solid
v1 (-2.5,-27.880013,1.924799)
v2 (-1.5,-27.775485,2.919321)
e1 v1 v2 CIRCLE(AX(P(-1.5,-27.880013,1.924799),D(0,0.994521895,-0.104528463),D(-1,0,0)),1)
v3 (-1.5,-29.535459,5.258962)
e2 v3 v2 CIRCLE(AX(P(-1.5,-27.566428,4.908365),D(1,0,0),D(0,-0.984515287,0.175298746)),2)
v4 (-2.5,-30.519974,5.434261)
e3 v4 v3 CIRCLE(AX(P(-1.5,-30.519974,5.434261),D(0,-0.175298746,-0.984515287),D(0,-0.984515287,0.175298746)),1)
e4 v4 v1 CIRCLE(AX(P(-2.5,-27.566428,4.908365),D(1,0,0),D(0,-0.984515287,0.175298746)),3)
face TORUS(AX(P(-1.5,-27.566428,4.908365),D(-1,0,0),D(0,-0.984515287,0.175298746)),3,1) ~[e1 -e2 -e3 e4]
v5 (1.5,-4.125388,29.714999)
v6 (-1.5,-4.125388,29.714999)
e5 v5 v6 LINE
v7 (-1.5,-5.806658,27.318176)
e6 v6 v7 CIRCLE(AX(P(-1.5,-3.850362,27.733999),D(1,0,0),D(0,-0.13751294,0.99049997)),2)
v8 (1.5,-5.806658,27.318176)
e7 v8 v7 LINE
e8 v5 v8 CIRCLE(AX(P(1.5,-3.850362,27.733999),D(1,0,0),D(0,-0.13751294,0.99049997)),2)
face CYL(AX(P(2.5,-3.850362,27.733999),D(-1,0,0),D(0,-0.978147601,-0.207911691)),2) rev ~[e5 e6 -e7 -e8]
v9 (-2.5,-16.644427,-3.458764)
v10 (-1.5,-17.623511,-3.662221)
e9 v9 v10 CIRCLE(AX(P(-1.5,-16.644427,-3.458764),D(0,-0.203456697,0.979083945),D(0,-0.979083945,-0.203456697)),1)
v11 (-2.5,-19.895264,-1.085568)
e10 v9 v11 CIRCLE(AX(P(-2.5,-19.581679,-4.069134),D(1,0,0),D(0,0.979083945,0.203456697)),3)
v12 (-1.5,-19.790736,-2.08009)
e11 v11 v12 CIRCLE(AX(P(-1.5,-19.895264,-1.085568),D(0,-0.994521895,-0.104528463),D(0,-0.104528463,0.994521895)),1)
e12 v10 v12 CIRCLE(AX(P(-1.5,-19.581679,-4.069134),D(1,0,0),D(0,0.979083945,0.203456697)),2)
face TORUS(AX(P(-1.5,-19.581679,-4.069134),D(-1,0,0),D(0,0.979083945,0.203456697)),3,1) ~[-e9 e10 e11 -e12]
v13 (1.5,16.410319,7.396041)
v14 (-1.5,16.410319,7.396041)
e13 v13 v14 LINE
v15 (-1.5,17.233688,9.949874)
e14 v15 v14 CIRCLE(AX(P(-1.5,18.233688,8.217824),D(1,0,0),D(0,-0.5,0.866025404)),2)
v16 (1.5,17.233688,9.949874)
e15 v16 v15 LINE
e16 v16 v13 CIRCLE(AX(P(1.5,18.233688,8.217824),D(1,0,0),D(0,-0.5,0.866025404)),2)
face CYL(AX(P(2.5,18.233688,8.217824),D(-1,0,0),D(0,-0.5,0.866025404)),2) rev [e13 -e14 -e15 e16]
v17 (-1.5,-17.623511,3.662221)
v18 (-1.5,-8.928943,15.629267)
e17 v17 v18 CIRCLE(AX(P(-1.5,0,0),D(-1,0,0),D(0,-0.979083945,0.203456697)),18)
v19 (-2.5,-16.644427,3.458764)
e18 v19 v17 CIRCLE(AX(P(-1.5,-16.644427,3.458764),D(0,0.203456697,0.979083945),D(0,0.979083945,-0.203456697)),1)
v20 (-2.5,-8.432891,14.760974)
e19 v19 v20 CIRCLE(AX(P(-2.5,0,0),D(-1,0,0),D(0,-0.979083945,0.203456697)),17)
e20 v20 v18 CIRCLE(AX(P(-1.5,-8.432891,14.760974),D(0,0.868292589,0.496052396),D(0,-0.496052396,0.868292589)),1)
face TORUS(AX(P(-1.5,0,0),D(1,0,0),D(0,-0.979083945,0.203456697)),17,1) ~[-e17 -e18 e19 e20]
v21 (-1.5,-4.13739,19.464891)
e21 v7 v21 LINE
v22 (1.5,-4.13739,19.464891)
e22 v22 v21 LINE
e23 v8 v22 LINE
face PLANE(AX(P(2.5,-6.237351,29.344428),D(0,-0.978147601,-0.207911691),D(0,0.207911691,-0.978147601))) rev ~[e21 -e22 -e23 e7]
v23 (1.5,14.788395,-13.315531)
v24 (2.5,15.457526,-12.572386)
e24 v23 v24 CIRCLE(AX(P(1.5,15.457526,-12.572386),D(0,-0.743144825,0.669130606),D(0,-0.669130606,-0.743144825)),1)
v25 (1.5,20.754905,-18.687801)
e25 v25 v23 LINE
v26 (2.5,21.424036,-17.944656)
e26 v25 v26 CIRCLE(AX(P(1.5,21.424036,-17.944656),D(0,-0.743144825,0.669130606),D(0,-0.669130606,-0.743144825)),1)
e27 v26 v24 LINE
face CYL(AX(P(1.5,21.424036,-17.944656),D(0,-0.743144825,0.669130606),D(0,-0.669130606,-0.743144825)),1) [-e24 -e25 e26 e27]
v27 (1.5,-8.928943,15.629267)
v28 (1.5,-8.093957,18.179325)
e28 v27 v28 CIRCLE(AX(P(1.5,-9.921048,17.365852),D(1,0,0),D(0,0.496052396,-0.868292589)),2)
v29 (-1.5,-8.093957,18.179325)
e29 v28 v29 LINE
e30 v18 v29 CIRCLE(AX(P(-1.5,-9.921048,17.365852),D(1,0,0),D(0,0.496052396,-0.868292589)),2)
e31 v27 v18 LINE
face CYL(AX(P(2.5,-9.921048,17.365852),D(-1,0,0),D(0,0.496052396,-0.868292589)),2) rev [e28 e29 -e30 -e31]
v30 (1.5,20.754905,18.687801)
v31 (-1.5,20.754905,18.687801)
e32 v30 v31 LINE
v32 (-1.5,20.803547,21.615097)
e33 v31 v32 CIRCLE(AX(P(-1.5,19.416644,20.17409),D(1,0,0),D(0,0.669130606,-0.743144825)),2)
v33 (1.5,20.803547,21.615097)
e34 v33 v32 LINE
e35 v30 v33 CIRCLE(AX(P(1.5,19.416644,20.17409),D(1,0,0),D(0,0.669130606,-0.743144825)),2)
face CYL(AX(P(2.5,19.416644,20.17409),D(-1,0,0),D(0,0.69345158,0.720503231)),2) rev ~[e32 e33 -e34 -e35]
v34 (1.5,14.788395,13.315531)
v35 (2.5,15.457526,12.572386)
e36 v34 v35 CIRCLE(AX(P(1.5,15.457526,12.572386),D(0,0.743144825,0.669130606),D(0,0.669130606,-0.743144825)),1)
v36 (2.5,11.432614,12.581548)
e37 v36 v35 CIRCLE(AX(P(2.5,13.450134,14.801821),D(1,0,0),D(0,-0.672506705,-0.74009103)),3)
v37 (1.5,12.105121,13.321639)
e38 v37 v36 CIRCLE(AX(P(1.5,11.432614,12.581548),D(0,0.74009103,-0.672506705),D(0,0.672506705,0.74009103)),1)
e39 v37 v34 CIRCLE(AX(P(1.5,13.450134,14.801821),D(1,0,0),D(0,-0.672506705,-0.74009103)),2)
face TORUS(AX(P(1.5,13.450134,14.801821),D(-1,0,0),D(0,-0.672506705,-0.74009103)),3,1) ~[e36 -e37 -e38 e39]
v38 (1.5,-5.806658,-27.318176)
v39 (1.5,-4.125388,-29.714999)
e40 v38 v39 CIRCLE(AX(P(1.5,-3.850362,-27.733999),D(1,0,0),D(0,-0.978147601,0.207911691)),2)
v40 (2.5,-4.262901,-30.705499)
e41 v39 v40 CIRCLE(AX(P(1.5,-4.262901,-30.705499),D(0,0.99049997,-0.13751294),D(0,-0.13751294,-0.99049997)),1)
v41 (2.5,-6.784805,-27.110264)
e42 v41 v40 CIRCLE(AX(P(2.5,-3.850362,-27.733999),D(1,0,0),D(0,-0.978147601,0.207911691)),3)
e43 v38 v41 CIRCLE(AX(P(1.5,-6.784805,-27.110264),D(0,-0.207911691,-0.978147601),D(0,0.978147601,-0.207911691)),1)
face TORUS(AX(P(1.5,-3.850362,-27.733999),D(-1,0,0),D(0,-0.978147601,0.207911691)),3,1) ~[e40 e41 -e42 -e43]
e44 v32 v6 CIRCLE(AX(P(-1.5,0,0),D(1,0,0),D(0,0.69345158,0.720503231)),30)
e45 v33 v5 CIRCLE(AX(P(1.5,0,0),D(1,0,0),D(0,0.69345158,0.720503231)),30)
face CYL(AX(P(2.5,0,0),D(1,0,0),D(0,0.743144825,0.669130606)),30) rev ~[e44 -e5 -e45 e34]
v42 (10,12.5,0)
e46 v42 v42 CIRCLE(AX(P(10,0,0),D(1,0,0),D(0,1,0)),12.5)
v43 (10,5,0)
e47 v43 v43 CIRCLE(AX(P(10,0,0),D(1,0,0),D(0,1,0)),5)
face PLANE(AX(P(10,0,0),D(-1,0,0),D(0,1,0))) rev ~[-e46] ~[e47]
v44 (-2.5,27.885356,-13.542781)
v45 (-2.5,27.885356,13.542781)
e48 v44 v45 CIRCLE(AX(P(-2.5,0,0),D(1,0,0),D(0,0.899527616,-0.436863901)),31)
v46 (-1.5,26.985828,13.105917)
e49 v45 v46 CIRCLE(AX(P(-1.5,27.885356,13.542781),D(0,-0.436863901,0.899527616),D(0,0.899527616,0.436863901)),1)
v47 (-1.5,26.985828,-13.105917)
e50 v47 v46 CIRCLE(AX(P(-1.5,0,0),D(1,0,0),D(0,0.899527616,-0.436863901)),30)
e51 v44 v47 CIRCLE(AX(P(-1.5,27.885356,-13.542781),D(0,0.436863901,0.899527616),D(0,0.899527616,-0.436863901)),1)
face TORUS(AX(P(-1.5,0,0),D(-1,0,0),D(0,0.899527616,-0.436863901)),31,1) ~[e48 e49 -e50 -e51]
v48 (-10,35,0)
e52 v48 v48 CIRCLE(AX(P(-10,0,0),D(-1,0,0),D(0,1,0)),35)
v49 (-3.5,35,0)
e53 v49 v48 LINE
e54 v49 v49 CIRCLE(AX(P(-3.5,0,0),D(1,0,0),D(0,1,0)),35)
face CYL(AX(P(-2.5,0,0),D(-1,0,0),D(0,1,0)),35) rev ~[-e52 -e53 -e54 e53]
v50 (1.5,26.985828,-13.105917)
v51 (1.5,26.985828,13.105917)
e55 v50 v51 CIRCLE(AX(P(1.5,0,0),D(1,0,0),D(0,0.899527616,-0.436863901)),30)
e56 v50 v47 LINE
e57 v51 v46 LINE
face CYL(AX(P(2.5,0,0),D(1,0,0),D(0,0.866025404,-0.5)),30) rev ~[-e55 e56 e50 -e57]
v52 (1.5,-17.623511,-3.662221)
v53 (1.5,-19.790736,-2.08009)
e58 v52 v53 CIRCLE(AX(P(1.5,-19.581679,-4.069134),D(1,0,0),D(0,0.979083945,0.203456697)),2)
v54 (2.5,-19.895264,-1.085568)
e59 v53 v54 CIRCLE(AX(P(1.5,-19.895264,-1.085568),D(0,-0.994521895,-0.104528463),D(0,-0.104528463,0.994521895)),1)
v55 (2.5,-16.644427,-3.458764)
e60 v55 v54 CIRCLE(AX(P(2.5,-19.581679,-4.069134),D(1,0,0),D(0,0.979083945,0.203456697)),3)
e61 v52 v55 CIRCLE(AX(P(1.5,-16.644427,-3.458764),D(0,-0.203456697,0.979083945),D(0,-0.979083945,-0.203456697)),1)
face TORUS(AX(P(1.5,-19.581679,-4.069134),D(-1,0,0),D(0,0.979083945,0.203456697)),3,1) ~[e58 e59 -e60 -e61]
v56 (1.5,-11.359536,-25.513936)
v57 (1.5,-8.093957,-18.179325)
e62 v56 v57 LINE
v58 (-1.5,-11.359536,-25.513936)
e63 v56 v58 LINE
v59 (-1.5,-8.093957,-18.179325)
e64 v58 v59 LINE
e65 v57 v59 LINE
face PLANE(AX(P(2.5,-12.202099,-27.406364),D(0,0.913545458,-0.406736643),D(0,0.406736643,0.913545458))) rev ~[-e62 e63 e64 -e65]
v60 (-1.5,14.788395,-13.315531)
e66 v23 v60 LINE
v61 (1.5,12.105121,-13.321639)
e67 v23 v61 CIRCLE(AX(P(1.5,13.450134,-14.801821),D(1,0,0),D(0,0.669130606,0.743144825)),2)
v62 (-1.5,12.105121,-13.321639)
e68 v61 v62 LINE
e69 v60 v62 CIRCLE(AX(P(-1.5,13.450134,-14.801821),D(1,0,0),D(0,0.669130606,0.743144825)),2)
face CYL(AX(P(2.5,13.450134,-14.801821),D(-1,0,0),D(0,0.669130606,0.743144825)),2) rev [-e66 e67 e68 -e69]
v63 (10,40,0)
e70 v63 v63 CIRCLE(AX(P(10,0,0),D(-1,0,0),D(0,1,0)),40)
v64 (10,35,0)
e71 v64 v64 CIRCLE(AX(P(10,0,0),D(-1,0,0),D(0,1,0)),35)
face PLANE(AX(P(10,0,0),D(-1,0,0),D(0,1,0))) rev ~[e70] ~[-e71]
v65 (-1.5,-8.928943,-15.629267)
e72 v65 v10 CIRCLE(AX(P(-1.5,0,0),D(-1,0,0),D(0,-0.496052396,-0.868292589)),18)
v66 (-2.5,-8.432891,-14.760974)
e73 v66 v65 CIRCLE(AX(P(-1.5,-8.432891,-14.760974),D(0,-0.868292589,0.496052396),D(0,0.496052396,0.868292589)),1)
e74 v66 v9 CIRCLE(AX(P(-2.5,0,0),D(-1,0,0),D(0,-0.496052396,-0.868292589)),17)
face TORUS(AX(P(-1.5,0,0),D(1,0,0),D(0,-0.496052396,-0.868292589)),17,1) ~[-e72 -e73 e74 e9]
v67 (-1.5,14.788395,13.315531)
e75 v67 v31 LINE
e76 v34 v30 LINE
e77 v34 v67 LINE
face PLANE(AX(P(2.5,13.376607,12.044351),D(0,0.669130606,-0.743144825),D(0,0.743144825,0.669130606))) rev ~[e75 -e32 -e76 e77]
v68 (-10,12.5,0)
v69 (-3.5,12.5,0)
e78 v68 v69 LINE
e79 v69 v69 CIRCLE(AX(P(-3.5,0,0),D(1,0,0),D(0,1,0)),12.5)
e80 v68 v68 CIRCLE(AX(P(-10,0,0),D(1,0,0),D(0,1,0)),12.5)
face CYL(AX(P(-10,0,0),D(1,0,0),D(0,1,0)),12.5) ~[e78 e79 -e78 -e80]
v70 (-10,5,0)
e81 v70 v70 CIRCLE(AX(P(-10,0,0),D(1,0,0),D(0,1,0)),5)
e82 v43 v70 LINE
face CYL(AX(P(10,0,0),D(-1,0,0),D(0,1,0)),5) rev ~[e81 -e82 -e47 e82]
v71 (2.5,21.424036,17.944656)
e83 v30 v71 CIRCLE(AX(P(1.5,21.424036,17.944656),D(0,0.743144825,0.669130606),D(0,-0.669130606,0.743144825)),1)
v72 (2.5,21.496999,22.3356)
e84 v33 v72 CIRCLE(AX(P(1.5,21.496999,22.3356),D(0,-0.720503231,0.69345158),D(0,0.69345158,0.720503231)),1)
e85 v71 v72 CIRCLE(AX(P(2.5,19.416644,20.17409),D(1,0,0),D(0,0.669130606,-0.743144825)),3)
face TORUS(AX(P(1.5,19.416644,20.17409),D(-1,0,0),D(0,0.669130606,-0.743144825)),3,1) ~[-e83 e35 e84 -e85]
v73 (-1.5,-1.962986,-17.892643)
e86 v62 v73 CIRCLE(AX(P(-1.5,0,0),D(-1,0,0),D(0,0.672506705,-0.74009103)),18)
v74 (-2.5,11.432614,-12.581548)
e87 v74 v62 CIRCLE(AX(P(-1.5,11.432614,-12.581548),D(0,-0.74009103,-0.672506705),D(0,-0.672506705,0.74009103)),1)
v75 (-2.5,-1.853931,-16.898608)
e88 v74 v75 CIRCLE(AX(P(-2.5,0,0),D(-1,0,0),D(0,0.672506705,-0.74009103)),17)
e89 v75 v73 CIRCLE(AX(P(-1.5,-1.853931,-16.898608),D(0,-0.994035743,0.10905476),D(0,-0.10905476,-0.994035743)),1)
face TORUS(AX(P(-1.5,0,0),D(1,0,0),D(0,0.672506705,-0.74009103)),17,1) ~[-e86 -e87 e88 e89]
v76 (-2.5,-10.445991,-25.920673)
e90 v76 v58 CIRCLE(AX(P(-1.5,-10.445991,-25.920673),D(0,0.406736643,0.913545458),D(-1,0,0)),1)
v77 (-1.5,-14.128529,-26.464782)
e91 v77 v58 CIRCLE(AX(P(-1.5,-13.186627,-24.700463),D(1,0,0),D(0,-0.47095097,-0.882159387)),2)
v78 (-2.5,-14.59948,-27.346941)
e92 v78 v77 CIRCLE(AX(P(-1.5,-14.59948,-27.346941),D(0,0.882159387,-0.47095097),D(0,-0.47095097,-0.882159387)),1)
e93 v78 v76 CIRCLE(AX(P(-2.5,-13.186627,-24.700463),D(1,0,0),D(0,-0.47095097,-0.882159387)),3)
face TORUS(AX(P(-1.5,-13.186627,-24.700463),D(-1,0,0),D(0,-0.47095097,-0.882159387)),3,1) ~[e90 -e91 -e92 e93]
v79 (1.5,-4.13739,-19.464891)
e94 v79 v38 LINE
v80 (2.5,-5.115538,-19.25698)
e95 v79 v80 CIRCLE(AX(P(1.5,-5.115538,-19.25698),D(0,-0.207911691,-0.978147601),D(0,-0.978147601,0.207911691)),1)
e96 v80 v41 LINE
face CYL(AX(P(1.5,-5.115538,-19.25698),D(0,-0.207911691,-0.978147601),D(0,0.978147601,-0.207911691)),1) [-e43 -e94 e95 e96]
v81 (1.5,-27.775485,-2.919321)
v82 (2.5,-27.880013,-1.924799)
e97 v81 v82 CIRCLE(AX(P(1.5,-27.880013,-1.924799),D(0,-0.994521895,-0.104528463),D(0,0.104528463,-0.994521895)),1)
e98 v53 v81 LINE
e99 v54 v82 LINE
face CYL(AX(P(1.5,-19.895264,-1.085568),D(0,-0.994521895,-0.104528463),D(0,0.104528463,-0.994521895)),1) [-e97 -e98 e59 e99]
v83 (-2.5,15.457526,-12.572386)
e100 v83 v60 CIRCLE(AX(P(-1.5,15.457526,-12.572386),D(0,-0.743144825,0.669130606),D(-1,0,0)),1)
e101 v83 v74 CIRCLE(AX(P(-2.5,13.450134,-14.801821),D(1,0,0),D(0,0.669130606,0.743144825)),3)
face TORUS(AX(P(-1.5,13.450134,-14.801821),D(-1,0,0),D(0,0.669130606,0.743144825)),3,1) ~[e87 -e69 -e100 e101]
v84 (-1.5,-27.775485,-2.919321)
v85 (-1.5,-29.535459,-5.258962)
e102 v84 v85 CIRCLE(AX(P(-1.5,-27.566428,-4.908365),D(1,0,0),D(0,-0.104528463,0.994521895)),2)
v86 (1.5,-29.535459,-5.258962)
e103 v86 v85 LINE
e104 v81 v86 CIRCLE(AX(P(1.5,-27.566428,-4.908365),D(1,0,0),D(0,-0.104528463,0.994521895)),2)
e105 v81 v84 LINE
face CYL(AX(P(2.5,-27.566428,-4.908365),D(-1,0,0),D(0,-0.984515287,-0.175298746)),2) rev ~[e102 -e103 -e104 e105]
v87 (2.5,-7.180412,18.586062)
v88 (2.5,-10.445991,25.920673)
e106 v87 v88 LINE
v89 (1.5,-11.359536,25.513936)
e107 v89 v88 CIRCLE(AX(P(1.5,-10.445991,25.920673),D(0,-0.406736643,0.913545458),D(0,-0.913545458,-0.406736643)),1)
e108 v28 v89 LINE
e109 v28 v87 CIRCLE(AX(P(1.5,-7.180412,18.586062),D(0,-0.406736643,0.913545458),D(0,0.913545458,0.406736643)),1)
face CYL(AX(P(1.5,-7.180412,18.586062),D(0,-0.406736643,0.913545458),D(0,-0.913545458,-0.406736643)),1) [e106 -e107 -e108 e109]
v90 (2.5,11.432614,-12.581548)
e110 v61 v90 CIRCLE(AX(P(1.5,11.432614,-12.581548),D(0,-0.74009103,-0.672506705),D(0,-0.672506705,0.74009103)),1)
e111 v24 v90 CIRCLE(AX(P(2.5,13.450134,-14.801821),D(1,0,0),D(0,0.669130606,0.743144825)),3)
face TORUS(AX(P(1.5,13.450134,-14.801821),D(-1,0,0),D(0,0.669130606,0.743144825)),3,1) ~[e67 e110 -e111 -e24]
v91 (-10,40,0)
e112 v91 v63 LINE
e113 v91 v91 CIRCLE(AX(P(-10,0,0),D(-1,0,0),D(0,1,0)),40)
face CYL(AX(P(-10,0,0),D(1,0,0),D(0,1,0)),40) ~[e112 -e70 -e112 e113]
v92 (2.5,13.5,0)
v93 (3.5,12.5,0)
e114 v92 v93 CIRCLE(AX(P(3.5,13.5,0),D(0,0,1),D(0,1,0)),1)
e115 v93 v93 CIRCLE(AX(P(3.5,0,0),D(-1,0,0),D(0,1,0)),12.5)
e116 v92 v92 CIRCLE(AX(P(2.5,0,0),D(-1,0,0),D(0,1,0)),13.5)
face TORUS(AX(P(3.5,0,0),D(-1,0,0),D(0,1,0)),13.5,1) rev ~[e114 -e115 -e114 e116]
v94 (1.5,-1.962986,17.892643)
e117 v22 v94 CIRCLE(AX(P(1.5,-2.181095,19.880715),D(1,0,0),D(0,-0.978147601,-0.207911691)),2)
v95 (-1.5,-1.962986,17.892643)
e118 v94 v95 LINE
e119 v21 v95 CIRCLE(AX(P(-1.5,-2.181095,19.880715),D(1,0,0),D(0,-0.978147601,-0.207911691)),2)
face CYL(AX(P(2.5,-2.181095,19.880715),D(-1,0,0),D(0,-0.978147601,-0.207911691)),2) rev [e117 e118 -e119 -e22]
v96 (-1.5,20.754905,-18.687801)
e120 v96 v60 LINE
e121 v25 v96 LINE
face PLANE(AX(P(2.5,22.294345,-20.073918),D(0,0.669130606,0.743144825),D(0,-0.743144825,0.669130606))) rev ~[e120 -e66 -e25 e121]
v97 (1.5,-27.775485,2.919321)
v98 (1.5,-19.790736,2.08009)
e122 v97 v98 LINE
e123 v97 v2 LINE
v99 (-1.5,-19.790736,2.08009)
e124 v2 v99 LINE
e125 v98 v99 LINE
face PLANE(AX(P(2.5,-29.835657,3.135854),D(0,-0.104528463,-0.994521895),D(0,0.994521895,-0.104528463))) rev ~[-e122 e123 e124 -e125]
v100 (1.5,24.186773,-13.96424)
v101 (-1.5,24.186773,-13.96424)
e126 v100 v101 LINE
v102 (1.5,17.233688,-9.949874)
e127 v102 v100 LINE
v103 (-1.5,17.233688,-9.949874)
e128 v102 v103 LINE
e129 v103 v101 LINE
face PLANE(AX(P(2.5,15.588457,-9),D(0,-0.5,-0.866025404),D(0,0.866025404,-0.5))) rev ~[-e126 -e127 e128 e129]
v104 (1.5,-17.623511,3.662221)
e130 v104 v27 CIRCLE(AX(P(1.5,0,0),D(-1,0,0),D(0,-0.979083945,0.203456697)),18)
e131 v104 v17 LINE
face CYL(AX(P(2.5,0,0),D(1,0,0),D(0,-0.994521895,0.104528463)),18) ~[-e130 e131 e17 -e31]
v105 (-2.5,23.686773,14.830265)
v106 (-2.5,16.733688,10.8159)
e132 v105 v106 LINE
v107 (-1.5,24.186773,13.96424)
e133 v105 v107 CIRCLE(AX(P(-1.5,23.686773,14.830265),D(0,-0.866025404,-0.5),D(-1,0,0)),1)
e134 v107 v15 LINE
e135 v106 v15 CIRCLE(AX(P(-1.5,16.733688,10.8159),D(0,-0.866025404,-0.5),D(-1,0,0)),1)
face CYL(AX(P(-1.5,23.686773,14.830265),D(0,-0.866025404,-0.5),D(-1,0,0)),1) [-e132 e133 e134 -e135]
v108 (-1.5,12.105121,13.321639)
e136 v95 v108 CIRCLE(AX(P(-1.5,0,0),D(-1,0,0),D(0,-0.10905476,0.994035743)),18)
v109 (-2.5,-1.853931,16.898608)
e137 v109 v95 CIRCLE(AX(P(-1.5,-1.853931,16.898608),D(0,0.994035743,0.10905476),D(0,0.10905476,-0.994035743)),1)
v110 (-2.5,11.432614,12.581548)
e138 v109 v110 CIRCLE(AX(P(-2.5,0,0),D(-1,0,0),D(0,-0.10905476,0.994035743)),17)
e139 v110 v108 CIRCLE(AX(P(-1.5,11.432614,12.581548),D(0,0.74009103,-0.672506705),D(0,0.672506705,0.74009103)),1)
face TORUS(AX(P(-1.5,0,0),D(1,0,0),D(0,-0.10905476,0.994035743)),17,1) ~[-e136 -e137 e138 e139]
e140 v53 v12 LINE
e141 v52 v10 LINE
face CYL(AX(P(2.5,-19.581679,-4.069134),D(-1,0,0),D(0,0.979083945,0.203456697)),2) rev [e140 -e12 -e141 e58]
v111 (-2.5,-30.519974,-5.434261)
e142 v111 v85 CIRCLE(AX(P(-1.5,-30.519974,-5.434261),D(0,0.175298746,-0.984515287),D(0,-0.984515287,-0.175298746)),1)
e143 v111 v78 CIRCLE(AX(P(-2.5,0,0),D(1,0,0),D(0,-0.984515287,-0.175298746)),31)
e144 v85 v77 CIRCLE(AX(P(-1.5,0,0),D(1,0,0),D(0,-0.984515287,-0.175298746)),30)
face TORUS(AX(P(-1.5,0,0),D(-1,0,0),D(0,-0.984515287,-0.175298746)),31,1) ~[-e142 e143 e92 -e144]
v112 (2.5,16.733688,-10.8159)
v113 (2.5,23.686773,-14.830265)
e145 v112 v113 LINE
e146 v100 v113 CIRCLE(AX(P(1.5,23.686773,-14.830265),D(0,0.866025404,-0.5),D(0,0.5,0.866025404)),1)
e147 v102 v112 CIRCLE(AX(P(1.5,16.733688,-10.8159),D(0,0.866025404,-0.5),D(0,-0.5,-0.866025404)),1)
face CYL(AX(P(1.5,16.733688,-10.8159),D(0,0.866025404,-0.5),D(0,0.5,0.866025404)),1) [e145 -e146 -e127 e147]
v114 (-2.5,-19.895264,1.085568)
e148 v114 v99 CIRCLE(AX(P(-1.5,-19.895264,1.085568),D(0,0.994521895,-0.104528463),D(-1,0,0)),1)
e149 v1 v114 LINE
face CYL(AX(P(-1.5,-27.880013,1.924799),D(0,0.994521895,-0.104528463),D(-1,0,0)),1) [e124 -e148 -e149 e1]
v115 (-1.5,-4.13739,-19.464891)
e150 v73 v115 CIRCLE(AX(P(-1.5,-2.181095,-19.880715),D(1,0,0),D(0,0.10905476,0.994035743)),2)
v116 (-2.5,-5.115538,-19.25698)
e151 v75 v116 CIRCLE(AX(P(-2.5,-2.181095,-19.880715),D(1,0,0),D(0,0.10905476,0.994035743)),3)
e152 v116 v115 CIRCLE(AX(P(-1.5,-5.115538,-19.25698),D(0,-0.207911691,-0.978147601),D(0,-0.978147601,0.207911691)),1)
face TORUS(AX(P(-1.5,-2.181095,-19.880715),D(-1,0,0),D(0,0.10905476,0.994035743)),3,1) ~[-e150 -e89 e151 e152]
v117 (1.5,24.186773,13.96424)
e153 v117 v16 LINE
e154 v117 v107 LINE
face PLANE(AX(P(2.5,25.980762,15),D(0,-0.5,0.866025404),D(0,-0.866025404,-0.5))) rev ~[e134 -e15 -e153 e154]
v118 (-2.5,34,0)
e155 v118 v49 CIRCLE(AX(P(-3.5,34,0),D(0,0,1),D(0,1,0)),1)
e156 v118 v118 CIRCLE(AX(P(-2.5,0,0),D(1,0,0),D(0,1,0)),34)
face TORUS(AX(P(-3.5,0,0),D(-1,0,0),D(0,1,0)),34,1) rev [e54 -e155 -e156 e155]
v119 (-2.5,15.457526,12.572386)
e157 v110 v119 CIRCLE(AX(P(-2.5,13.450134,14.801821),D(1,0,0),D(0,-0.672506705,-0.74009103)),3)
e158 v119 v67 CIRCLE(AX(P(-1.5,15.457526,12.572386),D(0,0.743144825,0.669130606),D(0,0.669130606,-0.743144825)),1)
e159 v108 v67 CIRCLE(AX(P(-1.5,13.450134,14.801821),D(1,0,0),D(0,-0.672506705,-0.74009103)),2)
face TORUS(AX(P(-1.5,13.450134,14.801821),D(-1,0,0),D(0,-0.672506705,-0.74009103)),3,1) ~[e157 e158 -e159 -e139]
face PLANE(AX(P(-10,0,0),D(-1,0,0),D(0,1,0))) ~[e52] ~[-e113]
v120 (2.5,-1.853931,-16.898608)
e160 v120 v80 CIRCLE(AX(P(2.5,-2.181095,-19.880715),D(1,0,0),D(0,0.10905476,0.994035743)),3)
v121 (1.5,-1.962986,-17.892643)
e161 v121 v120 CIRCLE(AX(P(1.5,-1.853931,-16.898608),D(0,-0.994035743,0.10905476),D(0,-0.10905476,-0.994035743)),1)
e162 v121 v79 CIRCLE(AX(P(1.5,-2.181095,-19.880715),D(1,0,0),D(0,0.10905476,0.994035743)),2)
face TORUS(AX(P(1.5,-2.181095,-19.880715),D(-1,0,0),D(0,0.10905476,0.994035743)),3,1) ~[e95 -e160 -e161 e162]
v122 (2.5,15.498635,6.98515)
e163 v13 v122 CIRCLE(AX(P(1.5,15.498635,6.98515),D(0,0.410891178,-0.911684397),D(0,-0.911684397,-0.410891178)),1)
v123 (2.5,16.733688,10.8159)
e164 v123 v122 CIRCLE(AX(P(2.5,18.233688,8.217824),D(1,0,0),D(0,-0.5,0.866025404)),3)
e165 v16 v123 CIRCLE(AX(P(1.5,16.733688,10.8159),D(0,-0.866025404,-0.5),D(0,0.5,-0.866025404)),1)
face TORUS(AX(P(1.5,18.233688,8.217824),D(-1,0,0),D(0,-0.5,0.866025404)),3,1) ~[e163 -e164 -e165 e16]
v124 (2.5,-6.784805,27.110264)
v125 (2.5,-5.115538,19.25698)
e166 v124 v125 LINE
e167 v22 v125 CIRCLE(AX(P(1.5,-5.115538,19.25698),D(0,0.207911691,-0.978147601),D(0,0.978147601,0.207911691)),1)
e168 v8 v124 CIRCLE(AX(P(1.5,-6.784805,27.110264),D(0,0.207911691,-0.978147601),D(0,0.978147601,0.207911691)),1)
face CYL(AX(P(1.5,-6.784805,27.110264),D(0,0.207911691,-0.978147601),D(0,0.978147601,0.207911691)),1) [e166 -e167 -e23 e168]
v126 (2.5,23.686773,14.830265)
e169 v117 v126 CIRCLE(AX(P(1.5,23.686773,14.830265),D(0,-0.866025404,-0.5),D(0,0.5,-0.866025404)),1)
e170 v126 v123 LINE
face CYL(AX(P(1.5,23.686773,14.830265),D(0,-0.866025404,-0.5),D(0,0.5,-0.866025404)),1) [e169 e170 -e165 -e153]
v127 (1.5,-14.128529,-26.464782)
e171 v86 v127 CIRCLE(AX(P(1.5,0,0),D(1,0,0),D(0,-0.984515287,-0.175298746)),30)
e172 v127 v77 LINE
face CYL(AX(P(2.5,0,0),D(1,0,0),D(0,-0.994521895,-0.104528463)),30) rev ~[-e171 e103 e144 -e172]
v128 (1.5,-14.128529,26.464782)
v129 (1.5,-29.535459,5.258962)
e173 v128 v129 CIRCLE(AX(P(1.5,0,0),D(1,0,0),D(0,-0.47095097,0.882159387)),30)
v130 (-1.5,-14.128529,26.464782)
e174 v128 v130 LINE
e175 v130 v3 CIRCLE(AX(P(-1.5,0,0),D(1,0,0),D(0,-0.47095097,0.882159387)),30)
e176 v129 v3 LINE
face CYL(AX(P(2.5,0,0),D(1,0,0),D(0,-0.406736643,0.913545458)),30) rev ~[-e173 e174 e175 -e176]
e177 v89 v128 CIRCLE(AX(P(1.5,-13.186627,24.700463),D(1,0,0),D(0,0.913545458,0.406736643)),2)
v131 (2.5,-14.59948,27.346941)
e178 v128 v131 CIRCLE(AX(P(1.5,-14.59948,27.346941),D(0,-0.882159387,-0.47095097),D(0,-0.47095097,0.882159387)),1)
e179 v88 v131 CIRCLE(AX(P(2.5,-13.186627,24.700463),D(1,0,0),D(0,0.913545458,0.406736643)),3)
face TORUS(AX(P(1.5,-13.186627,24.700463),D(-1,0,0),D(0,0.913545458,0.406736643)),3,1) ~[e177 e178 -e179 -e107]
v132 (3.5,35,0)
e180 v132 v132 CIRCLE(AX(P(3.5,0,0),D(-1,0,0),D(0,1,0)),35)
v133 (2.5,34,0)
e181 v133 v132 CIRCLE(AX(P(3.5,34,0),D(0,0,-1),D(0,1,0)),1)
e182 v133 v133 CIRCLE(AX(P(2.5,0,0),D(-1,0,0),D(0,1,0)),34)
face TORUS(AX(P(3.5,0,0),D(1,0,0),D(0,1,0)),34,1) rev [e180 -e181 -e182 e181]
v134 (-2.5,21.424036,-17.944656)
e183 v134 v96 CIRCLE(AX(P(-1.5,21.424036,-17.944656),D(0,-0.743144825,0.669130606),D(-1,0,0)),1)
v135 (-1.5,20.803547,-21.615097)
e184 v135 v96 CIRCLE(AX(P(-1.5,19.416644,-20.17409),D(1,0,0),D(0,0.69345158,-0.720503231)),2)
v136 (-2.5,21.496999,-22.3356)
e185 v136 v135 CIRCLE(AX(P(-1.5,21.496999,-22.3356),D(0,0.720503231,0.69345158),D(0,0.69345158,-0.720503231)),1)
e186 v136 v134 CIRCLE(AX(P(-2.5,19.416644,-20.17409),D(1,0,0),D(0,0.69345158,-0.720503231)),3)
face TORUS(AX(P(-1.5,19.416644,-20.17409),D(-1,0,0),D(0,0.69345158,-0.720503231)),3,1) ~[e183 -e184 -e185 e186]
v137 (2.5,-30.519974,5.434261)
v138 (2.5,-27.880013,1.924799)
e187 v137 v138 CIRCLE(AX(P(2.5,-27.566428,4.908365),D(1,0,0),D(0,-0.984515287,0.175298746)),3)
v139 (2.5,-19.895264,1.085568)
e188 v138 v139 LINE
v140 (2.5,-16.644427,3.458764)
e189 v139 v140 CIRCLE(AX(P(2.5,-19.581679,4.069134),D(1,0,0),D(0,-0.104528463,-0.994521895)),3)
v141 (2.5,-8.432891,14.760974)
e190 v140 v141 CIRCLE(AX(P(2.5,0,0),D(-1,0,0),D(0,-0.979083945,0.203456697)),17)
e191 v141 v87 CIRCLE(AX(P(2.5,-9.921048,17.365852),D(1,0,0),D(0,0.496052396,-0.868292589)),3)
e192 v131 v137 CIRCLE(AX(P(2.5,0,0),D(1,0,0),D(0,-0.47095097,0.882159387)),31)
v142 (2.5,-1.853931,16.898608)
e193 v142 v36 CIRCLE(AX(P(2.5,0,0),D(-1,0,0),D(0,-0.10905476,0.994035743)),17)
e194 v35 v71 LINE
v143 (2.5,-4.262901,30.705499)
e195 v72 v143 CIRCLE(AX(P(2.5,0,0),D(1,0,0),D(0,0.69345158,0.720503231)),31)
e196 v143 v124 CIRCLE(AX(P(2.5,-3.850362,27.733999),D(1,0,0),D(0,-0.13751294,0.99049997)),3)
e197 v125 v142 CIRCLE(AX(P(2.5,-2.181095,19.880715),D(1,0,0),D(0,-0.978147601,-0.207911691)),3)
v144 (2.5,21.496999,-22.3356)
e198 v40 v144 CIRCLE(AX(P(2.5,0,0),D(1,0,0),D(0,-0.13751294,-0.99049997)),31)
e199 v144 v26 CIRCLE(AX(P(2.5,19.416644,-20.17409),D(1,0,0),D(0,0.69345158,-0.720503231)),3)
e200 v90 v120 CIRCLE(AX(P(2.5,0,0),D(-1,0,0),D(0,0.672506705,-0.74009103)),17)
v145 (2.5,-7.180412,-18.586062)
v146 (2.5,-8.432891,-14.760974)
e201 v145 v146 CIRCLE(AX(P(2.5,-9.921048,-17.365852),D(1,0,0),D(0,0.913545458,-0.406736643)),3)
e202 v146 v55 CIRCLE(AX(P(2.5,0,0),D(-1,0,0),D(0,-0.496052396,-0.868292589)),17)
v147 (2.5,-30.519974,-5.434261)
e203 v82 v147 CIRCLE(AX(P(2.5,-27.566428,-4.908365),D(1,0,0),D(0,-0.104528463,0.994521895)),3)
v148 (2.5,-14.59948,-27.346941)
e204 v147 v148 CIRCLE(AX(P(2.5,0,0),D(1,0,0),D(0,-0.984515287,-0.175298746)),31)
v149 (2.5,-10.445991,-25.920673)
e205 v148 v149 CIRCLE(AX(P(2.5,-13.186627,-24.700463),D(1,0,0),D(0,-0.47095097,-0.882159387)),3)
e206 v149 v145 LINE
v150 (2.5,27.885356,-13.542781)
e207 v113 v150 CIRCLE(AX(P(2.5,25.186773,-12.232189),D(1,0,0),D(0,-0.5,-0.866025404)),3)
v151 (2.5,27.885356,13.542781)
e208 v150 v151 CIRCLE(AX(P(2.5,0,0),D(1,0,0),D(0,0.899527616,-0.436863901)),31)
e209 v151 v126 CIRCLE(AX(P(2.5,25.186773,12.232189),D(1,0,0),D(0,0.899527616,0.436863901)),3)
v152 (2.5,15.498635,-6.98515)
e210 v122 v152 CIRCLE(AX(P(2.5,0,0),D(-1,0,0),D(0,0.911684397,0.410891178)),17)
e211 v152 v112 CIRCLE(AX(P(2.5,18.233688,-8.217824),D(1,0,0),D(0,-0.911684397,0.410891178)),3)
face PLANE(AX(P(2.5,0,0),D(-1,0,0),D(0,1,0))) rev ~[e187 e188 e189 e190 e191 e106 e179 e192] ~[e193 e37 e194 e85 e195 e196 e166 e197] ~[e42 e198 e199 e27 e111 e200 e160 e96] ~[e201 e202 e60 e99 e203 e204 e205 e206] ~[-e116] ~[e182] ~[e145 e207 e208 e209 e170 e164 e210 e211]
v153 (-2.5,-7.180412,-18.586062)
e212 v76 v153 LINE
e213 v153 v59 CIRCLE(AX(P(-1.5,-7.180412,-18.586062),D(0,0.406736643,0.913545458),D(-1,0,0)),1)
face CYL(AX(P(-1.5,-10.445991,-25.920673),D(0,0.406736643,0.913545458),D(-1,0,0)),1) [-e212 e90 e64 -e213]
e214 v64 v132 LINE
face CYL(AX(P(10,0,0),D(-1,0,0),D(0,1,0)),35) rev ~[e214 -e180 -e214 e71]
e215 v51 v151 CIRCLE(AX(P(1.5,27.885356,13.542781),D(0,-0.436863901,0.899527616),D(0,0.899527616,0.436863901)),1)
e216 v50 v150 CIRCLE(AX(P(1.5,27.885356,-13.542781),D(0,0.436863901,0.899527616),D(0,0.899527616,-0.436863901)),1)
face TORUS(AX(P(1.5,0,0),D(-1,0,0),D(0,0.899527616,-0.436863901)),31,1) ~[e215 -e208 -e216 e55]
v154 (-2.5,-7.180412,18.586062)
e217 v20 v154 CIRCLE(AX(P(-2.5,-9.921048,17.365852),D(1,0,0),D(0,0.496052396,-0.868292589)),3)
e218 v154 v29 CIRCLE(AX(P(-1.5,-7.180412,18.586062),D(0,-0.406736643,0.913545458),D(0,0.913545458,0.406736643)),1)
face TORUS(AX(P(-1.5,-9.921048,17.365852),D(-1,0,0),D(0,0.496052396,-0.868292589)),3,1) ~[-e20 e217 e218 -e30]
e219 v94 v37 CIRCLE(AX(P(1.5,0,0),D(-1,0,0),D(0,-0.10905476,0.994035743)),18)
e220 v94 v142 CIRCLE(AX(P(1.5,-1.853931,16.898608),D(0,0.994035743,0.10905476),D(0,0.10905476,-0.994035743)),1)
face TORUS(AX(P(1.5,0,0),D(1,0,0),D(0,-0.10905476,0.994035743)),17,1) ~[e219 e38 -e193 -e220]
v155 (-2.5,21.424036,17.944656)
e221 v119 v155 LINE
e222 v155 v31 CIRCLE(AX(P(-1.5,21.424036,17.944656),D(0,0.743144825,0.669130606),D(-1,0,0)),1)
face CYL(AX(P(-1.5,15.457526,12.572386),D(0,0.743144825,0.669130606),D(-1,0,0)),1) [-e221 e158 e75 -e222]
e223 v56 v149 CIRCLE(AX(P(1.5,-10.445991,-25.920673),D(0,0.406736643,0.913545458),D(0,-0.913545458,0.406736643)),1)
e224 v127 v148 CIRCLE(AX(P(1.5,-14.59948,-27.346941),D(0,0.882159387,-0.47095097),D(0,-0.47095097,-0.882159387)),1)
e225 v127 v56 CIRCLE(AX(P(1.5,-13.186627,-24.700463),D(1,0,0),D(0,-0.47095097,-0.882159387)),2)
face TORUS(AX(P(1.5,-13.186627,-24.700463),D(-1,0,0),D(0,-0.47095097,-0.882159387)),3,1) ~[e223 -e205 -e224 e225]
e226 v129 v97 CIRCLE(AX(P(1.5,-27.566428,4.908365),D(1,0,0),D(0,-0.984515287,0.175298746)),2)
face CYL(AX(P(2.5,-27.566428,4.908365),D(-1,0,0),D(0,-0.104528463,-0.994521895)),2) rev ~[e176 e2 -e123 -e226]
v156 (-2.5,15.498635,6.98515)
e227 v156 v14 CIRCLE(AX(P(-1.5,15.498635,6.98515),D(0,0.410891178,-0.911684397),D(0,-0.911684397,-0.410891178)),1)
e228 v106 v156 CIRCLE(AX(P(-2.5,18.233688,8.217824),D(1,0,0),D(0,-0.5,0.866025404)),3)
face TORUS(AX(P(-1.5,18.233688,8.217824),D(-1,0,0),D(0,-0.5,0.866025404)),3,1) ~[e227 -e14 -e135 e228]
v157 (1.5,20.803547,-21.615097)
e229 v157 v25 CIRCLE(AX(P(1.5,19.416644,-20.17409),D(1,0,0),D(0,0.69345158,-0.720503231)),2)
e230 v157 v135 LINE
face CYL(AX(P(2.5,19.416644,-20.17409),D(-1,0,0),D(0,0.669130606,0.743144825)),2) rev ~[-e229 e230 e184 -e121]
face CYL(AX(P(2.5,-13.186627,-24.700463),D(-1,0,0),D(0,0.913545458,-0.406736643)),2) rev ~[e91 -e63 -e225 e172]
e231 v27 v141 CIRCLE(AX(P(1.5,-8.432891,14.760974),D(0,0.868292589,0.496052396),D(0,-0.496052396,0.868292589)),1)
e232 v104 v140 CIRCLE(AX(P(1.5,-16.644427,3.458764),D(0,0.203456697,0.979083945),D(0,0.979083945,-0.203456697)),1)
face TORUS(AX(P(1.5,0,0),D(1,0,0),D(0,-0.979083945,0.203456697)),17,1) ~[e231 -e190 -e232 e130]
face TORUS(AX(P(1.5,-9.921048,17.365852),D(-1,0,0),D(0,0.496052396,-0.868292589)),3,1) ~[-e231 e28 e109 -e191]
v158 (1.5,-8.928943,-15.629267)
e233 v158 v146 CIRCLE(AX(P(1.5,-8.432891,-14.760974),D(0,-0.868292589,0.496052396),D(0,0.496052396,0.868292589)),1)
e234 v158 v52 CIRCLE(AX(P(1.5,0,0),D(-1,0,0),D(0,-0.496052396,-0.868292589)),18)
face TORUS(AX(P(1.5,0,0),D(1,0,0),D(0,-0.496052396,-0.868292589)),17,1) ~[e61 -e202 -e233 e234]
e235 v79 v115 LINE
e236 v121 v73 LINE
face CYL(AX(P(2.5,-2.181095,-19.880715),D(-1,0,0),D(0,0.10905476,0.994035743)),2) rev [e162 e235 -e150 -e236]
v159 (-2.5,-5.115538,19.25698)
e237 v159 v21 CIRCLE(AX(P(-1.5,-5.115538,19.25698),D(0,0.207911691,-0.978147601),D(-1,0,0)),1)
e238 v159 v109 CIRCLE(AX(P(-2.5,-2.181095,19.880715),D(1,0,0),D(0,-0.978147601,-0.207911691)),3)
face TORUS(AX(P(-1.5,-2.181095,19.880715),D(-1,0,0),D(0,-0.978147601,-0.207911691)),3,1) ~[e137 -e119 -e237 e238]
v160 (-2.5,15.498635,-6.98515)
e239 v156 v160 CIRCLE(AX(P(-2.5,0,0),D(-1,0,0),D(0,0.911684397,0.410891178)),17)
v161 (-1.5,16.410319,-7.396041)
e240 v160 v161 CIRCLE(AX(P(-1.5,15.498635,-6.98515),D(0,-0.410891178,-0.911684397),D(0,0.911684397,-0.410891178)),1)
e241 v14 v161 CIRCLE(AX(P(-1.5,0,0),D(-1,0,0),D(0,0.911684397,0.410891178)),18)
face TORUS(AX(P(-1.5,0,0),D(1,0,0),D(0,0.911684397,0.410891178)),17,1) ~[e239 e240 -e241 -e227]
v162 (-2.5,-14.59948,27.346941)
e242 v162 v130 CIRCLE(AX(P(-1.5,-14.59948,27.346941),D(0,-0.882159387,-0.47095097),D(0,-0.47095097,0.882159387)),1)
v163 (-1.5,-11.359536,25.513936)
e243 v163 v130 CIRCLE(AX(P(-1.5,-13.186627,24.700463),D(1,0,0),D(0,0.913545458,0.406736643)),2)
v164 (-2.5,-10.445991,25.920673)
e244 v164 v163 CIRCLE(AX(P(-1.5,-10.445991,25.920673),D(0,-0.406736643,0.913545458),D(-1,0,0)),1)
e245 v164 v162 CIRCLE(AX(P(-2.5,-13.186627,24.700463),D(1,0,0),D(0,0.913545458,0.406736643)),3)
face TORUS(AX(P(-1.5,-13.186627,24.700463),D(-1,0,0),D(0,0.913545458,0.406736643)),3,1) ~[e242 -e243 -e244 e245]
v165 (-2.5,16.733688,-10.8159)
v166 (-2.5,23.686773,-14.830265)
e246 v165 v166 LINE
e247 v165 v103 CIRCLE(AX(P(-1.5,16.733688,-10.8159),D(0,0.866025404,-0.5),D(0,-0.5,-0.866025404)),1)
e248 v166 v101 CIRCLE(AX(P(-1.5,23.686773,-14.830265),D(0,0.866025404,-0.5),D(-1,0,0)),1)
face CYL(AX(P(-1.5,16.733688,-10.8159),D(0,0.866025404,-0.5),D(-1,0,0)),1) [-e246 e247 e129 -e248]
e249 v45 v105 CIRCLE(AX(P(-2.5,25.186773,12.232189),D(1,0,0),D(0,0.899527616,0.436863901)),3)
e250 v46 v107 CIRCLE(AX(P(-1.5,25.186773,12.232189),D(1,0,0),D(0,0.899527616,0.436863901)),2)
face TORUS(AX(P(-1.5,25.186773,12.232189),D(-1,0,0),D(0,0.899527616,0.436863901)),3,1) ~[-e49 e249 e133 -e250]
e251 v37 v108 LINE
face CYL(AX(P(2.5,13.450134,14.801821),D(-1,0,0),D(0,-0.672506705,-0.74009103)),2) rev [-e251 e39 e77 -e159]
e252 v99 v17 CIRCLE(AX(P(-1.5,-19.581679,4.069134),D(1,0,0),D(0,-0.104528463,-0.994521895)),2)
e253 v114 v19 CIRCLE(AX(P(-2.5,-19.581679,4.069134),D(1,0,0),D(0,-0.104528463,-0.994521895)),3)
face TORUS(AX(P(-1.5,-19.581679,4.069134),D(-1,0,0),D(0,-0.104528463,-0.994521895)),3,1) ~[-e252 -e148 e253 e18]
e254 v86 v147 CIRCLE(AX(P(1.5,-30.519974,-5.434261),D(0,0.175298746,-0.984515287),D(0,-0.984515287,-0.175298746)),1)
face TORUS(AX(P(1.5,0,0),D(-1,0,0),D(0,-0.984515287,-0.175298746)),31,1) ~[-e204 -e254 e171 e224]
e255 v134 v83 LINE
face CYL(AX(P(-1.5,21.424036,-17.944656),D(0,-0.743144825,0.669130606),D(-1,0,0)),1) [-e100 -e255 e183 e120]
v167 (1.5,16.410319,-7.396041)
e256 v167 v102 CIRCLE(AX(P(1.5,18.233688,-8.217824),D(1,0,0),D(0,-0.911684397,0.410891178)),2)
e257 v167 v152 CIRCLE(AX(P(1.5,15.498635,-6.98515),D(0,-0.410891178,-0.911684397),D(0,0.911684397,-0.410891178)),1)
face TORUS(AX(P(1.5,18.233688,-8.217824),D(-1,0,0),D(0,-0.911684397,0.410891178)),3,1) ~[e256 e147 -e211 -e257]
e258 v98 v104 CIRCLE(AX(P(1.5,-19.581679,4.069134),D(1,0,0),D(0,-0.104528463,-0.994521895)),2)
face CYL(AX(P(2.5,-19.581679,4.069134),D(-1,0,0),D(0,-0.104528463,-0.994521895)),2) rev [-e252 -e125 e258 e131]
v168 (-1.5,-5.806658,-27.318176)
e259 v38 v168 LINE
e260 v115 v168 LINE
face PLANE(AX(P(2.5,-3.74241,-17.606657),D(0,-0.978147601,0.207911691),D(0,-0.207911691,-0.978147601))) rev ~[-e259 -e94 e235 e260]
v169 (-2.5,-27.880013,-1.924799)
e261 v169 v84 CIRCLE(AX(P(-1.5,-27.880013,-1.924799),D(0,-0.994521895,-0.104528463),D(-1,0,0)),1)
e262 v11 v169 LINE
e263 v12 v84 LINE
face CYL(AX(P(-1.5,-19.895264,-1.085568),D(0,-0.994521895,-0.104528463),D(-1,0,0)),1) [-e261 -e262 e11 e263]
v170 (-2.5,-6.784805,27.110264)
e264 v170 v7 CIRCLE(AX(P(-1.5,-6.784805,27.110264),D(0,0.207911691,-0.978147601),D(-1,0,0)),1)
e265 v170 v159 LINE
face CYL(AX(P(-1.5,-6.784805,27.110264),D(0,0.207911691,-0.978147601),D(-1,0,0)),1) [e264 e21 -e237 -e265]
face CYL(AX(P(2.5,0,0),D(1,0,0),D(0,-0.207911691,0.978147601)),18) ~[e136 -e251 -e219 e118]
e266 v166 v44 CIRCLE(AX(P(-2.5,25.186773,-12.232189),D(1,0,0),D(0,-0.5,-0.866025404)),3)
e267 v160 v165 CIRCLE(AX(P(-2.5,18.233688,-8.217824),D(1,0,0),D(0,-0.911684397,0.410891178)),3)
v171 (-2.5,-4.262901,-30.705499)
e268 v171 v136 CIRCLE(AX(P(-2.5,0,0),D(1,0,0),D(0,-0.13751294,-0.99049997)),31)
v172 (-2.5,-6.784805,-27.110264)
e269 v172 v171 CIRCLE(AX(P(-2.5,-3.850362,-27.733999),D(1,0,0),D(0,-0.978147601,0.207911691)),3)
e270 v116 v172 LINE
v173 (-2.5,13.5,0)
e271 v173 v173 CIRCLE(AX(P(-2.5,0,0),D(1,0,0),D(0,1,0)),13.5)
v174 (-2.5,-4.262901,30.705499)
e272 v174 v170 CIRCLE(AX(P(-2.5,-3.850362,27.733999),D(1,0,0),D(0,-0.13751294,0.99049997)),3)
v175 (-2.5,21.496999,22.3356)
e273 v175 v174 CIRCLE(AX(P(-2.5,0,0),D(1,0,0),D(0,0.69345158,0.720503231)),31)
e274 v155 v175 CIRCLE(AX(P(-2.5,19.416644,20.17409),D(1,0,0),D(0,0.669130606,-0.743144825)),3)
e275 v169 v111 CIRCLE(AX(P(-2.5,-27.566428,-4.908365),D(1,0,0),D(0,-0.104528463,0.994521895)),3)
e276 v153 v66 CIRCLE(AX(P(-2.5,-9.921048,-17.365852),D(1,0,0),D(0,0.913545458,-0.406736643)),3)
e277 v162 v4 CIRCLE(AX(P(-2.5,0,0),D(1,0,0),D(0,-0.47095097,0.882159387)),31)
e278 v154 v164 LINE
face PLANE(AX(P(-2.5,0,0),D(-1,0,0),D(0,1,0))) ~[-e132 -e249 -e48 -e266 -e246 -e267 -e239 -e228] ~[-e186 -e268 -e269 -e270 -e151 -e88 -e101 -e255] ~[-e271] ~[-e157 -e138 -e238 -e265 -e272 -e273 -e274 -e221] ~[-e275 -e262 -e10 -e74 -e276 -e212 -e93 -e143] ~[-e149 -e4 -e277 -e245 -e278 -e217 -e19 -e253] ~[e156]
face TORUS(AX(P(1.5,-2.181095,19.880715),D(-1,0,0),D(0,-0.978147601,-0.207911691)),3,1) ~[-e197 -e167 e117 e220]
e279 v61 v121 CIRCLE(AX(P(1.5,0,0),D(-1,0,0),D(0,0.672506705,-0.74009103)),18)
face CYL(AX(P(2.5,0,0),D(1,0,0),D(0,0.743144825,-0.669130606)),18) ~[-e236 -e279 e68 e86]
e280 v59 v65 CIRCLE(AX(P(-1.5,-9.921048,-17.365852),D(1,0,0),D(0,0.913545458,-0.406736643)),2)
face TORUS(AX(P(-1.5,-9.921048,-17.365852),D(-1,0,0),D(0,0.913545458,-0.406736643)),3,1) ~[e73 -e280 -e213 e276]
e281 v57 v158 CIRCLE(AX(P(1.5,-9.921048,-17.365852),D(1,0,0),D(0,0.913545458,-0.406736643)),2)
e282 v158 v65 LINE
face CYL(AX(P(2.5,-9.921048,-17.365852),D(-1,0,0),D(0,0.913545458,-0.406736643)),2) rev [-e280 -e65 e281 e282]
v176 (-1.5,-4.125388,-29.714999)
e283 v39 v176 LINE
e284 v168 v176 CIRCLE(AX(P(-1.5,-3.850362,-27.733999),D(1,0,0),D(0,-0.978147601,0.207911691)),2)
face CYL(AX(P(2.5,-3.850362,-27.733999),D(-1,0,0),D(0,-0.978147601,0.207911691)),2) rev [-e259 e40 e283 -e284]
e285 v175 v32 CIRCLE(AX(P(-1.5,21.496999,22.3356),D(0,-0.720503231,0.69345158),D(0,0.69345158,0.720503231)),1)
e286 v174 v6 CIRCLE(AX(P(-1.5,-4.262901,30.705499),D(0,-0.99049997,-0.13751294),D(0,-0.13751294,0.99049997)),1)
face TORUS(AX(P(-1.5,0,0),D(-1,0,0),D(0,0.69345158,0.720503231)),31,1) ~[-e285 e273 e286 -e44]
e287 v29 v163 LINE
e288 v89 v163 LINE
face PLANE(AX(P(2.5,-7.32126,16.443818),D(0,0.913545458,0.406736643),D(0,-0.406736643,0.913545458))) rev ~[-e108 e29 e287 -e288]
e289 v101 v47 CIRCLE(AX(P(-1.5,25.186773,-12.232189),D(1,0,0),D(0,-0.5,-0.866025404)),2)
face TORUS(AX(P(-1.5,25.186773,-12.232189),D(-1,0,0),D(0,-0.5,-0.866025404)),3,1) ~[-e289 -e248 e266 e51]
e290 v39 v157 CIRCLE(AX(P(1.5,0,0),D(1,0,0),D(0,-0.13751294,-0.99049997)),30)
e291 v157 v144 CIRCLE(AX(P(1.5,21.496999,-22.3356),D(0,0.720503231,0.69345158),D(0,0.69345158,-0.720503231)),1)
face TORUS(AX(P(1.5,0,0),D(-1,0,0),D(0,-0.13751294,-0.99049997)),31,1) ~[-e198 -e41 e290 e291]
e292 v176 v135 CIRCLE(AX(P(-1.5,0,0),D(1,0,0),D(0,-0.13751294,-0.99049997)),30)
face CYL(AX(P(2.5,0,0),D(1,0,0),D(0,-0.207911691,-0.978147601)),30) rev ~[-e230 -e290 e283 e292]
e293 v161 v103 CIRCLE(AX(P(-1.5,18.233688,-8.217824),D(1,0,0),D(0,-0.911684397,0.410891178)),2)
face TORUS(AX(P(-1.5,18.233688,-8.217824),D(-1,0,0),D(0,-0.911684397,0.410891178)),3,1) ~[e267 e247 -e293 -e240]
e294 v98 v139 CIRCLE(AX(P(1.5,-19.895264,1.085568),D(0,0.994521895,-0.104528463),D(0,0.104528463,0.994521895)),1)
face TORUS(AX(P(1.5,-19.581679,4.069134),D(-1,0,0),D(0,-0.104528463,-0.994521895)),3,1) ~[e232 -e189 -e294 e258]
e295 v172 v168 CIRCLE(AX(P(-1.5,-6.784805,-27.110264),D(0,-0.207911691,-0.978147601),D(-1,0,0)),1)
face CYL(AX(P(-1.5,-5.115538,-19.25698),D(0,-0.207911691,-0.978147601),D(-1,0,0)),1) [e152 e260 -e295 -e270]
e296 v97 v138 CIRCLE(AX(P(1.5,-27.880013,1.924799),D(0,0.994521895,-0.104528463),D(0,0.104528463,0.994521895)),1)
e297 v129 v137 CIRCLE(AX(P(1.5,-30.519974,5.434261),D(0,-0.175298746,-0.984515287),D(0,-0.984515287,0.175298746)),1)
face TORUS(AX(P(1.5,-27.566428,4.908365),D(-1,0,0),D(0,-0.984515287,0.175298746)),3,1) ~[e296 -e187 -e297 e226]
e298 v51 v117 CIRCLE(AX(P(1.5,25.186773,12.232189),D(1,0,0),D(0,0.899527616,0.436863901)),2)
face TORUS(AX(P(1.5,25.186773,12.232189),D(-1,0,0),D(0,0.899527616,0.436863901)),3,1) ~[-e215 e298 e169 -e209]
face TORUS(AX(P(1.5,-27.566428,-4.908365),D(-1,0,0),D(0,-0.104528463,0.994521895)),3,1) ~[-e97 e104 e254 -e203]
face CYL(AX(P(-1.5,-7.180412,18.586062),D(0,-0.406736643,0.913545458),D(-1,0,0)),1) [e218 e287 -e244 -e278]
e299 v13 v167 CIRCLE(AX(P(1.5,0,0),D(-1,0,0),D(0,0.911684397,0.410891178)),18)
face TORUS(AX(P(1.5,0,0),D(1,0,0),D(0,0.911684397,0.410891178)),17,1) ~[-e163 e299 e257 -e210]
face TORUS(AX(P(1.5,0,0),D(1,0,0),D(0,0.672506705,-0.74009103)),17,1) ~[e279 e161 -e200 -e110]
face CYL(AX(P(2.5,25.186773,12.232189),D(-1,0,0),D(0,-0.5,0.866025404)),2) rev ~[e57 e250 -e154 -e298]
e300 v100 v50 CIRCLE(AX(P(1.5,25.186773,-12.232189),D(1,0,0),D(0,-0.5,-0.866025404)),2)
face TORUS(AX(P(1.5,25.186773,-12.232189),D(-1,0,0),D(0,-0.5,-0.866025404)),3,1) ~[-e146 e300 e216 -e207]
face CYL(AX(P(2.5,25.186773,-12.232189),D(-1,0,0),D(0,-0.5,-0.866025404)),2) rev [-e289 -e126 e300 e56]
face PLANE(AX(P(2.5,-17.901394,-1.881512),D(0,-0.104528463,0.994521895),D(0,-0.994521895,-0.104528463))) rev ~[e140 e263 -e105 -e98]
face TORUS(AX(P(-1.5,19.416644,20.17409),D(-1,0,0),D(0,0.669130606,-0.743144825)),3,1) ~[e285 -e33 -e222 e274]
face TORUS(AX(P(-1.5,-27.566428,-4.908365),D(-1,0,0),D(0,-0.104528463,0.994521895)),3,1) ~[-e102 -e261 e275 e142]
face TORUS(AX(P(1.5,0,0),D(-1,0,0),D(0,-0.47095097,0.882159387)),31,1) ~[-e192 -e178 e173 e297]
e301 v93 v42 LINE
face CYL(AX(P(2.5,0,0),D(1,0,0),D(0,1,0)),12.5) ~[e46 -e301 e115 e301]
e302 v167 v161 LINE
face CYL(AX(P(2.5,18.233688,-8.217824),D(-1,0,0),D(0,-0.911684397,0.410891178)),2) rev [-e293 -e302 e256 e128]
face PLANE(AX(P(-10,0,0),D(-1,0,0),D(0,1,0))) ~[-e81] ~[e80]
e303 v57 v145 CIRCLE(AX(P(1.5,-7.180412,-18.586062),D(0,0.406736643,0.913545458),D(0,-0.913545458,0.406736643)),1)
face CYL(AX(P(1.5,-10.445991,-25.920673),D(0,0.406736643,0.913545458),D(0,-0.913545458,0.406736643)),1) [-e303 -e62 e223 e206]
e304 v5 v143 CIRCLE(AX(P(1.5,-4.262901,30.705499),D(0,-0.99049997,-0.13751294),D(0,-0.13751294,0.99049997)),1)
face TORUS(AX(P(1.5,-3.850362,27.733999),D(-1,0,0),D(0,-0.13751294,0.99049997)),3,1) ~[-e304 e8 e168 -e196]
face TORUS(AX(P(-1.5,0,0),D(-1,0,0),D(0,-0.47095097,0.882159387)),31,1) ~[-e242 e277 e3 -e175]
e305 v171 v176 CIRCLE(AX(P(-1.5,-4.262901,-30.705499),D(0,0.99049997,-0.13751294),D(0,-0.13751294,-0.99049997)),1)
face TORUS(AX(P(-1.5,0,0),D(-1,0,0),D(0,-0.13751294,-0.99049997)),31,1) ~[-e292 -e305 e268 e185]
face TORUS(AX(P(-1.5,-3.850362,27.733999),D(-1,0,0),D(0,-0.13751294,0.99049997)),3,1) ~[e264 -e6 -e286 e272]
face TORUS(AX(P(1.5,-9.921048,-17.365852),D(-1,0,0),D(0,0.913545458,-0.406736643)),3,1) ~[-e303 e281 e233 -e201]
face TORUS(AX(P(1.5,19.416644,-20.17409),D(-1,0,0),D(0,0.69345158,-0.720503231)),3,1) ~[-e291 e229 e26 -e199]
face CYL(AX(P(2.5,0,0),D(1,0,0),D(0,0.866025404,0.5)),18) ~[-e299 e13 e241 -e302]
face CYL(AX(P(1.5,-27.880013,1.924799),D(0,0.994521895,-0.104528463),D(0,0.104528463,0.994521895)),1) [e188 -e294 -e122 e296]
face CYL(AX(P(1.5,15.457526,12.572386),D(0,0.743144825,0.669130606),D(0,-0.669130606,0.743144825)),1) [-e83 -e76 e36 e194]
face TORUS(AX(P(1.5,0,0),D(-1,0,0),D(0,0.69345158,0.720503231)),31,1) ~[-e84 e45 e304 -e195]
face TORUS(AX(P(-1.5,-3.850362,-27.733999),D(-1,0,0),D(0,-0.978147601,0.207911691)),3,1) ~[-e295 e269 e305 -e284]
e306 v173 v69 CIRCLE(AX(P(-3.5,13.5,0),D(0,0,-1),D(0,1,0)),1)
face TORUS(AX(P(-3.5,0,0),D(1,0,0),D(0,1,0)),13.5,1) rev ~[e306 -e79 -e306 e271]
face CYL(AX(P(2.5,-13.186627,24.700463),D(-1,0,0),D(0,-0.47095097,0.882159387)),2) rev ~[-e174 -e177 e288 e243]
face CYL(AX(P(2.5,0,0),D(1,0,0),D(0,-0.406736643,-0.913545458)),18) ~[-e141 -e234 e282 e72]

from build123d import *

# Parameters (mm, degrees)
REVOLVE1_ANGLE           = 360
CUT_EXTRUDE1_DEPTH       = 10
FILLET1_R                = 2
CIRPATTERN1_COUNT        = 5
FILLET1_OF_CIRPATTERN1_R = 2
FILLET2_R                = 1


with BuildPart() as part:
    # Sketch1 → Revolve1 (revolve, symmetric)
    with BuildSketch(Plane.XY) as revolve1_sk:
        Polygon((-2.5, 35), (-10, 35), (-10, 40), (10, 40), (10, 35), (2.5, 35), (2.5, 12.5), (10, 12.5), (10, 5), (-10, 5), (-10, 12.5), (-2.5, 12.5), align=None)
    revolve(axis=Axis((0, 0, 0), (1, 0, 0)), revolution_arc=REVOLVE1_ANGLE / 2)
    revolve(revolve1_sk.sketch, axis=Axis((0, 0, 0), (-1, 0, 0)), revolution_arc=REVOLVE1_ANGLE / 2)

    # Sketch2 → Cut-Extrude1 (cut)
    with BuildSketch(Plane(origin=(2.5, 0, 0), x_dir=(0, 0, -1), z_dir=(1, 0, 0))):
        with BuildLine():
            Line((-15, 25.980762114), (-9, 15.588457268))
            ThreePointArc((-9, 15.588457268), (0, 18), (9, 15.588457268))
            Line((9, 15.588457268), (15, 25.980762114))
            ThreePointArc((15, 25.980762114), (0, 30), (-15, 25.980762114))
        make_face()
    cut_extrude1 = extrude(amount=-CUT_EXTRUDE1_DEPTH, mode=Mode.SUBTRACT)

    # Fillet1
    fillet1_edges = [part.edges().sort_by_distance(p)[0] for p in [
        (0, 25.980762114, 15),
        (0, 25.980762114, -15),
        (0, 15.588457268, -9),
        (0, 15.588457268, 9),
    ]]
    fillet(fillet1_edges, radius=FILLET1_R)

    # CirPattern1: Cut-Extrude1 ×5 about axis
    cirpattern1_axis = Axis((0, 0, 0), (1, 0, 0))
    for i in range(1, CIRPATTERN1_COUNT):
        add(cut_extrude1.rotate(cirpattern1_axis, i * 360 / CIRPATTERN1_COUNT), mode=Mode.SUBTRACT)

    # Fillet1 of CirPattern1
    fillet1_of_cirpattern1_edges = [part.edges().sort_by_distance(p)[0] for p in [
        (0, -6.237350725, 29.344428022),
        (0, 22.294344764, 20.073918191),
        (0, 13.376606859, 12.044350914),
        (0, -3.742410435, 17.606656813),
        (0, -29.835656861, 3.135853898),
        (0, -12.202099292, 27.406363729),
        (0, -7.321259575, 16.443818238),
        (0, -17.901394117, 1.881512339),
        (0, -12.202099292, -27.406363729),
        (0, -29.835656861, -3.135853898),
        (0, -17.901394117, -1.881512339),
        (0, -7.321259575, -16.443818238),
        (0, 22.294344764, -20.073918191),
        (0, -6.237350725, -29.344428022),
        (0, -3.742410435, -17.606656813),
        (0, 13.376606859, -12.044350914),
    ]]
    fillet(fillet1_of_cirpattern1_edges, radius=FILLET1_OF_CIRPATTERN1_R)

    # Fillet2
    fillet2_edges = [part.edges().sort_by_distance(p)[0] for p in [
        (-2.5, 0, 35),
        (2.5, 0, 35),
        (2.5, 0, 12.5),
        (2.5, 17.771650383, -16.001665879),
        (-2.5, 17.771650383, -16.001665879),
        (2.5, 9.270509831, -28.531695489),
        (-2.5, 9.270509831, -28.531695489),
        (2.5, -4.972023962, -23.391533639),
        (-2.5, -4.972023962, -23.391533639),
        (2.5, 5.562305899, -17.119017293),
        (-2.5, 5.562305899, -17.119017293),
        (2.5, 21.416368191, -20.14086169),
        (-2.5, 21.416368191, -20.14086169),
        (2.5, -5.487704354, -28.882524769),
        (-2.5, -5.487704354, -28.882524769),
        (2.5, 13.445581763, -12.801825774),
        (-2.5, 13.445581763, -12.801825774),
        (2.5, -3.352979753, -18.260009279),
        (-2.5, -3.352979753, -18.260009279),
        (2.5, -9.726746619, -21.846630597),
        (-2.5, -9.726746619, -21.846630597),
        (2.5, -24.270509831, -17.633557569),
        (-2.5, -24.270509831, -17.633557569),
        (2.5, -23.783110394, -2.49970563),
        (-2.5, -23.783110394, -2.49970563),
        (2.5, -14.562305899, -10.580134541),
        (-2.5, -14.562305899, -10.580134541),
        (2.5, -12.537076026, -26.592045067),
        (-2.5, -12.537076026, -26.592045067),
        (2.5, -29.164707294, -3.706074009),
        (-2.5, -29.164707294, -3.706074009),
        (2.5, -8.020346559, -16.743489875),
        (-2.5, -8.020346559, -16.743489875),
        (2.5, -18.402428538, -2.453779941),
        (-2.5, -18.402428538, -2.453779941),
        (2.5, -23.783110394, 2.49970563),
        (-2.5, -23.783110394, 2.49970563),
        (2.5, -24.270509831, 17.633557569),
        (-2.5, -24.270509831, 17.633557569),
        (2.5, -9.726746619, 21.846630597),
        (-2.5, -9.726746619, 21.846630597),
        (2.5, -14.562305899, 10.580134541),
        (-2.5, -14.562305899, 10.580134541),
        (2.5, -29.164707294, 3.706074009),
        (-2.5, -29.164707294, 3.706074009),
        (2.5, -12.537076026, 26.592045067),
        (-2.5, -12.537076026, 26.592045067),
        (2.5, -18.402428538, 2.453779941),
        (-2.5, -18.402428538, 2.453779941),
        (2.5, -8.020346559, 16.743489875),
        (-2.5, -8.020346559, 16.743489875),
        (2.5, -4.972023962, 23.391533639),
        (-2.5, -4.972023962, 23.391533639),
        (2.5, 9.270509831, 28.531695489),
        (-2.5, 9.270509831, 28.531695489),
        (2.5, 17.771650383, 16.001665879),
        (-2.5, 17.771650383, 16.001665879),
        (2.5, 5.562305899, 17.119017293),
        (-2.5, 5.562305899, 17.119017293),
        (2.5, -5.487704354, 28.882524769),
        (-2.5, -5.487704354, 28.882524769),
        (2.5, 21.416368191, 20.14086169),
        (-2.5, 21.416368191, 20.14086169),
        (2.5, -3.352979753, 18.260009279),
        (-2.5, -3.352979753, 18.260009279),
        (2.5, 13.445581763, 12.801825774),
        (-2.5, 13.445581763, 12.801825774),
        (2.5, 20.710230592, 11.957057207),
        (-2.5, 20.710230592, 11.957057207),
        (2.5, 29.236747889, -6.72402951),
        (-2.5, 29.236747889, 6.72402951),
        (2.5, 20.710230592, -11.957057207),
        (-2.5, 20.710230592, -11.957057207),
        (2.5, 17.59809286, 3.782476396),
        (-2.5, 17.59809286, 3.782476396),
        (2.5, 25.773119483, 14.14430798),
        (-2.5, 25.773119483, 14.14430798),
        (2.5, 25.773119483, -14.14430798),
        (-2.5, 25.773119483, -14.14430798),
        (2.5, 16.330173087, 8.831526428),
        (-2.5, 16.330173087, 8.831526428),
        (2.5, 16.330173087, -8.831526428),
        (-2.5, 16.330173087, -8.831526428),
        (-2.5, 0, 12.5),
    ]]
    fillet(fillet2_edges, radius=FILLET2_R)


solid = part.part
